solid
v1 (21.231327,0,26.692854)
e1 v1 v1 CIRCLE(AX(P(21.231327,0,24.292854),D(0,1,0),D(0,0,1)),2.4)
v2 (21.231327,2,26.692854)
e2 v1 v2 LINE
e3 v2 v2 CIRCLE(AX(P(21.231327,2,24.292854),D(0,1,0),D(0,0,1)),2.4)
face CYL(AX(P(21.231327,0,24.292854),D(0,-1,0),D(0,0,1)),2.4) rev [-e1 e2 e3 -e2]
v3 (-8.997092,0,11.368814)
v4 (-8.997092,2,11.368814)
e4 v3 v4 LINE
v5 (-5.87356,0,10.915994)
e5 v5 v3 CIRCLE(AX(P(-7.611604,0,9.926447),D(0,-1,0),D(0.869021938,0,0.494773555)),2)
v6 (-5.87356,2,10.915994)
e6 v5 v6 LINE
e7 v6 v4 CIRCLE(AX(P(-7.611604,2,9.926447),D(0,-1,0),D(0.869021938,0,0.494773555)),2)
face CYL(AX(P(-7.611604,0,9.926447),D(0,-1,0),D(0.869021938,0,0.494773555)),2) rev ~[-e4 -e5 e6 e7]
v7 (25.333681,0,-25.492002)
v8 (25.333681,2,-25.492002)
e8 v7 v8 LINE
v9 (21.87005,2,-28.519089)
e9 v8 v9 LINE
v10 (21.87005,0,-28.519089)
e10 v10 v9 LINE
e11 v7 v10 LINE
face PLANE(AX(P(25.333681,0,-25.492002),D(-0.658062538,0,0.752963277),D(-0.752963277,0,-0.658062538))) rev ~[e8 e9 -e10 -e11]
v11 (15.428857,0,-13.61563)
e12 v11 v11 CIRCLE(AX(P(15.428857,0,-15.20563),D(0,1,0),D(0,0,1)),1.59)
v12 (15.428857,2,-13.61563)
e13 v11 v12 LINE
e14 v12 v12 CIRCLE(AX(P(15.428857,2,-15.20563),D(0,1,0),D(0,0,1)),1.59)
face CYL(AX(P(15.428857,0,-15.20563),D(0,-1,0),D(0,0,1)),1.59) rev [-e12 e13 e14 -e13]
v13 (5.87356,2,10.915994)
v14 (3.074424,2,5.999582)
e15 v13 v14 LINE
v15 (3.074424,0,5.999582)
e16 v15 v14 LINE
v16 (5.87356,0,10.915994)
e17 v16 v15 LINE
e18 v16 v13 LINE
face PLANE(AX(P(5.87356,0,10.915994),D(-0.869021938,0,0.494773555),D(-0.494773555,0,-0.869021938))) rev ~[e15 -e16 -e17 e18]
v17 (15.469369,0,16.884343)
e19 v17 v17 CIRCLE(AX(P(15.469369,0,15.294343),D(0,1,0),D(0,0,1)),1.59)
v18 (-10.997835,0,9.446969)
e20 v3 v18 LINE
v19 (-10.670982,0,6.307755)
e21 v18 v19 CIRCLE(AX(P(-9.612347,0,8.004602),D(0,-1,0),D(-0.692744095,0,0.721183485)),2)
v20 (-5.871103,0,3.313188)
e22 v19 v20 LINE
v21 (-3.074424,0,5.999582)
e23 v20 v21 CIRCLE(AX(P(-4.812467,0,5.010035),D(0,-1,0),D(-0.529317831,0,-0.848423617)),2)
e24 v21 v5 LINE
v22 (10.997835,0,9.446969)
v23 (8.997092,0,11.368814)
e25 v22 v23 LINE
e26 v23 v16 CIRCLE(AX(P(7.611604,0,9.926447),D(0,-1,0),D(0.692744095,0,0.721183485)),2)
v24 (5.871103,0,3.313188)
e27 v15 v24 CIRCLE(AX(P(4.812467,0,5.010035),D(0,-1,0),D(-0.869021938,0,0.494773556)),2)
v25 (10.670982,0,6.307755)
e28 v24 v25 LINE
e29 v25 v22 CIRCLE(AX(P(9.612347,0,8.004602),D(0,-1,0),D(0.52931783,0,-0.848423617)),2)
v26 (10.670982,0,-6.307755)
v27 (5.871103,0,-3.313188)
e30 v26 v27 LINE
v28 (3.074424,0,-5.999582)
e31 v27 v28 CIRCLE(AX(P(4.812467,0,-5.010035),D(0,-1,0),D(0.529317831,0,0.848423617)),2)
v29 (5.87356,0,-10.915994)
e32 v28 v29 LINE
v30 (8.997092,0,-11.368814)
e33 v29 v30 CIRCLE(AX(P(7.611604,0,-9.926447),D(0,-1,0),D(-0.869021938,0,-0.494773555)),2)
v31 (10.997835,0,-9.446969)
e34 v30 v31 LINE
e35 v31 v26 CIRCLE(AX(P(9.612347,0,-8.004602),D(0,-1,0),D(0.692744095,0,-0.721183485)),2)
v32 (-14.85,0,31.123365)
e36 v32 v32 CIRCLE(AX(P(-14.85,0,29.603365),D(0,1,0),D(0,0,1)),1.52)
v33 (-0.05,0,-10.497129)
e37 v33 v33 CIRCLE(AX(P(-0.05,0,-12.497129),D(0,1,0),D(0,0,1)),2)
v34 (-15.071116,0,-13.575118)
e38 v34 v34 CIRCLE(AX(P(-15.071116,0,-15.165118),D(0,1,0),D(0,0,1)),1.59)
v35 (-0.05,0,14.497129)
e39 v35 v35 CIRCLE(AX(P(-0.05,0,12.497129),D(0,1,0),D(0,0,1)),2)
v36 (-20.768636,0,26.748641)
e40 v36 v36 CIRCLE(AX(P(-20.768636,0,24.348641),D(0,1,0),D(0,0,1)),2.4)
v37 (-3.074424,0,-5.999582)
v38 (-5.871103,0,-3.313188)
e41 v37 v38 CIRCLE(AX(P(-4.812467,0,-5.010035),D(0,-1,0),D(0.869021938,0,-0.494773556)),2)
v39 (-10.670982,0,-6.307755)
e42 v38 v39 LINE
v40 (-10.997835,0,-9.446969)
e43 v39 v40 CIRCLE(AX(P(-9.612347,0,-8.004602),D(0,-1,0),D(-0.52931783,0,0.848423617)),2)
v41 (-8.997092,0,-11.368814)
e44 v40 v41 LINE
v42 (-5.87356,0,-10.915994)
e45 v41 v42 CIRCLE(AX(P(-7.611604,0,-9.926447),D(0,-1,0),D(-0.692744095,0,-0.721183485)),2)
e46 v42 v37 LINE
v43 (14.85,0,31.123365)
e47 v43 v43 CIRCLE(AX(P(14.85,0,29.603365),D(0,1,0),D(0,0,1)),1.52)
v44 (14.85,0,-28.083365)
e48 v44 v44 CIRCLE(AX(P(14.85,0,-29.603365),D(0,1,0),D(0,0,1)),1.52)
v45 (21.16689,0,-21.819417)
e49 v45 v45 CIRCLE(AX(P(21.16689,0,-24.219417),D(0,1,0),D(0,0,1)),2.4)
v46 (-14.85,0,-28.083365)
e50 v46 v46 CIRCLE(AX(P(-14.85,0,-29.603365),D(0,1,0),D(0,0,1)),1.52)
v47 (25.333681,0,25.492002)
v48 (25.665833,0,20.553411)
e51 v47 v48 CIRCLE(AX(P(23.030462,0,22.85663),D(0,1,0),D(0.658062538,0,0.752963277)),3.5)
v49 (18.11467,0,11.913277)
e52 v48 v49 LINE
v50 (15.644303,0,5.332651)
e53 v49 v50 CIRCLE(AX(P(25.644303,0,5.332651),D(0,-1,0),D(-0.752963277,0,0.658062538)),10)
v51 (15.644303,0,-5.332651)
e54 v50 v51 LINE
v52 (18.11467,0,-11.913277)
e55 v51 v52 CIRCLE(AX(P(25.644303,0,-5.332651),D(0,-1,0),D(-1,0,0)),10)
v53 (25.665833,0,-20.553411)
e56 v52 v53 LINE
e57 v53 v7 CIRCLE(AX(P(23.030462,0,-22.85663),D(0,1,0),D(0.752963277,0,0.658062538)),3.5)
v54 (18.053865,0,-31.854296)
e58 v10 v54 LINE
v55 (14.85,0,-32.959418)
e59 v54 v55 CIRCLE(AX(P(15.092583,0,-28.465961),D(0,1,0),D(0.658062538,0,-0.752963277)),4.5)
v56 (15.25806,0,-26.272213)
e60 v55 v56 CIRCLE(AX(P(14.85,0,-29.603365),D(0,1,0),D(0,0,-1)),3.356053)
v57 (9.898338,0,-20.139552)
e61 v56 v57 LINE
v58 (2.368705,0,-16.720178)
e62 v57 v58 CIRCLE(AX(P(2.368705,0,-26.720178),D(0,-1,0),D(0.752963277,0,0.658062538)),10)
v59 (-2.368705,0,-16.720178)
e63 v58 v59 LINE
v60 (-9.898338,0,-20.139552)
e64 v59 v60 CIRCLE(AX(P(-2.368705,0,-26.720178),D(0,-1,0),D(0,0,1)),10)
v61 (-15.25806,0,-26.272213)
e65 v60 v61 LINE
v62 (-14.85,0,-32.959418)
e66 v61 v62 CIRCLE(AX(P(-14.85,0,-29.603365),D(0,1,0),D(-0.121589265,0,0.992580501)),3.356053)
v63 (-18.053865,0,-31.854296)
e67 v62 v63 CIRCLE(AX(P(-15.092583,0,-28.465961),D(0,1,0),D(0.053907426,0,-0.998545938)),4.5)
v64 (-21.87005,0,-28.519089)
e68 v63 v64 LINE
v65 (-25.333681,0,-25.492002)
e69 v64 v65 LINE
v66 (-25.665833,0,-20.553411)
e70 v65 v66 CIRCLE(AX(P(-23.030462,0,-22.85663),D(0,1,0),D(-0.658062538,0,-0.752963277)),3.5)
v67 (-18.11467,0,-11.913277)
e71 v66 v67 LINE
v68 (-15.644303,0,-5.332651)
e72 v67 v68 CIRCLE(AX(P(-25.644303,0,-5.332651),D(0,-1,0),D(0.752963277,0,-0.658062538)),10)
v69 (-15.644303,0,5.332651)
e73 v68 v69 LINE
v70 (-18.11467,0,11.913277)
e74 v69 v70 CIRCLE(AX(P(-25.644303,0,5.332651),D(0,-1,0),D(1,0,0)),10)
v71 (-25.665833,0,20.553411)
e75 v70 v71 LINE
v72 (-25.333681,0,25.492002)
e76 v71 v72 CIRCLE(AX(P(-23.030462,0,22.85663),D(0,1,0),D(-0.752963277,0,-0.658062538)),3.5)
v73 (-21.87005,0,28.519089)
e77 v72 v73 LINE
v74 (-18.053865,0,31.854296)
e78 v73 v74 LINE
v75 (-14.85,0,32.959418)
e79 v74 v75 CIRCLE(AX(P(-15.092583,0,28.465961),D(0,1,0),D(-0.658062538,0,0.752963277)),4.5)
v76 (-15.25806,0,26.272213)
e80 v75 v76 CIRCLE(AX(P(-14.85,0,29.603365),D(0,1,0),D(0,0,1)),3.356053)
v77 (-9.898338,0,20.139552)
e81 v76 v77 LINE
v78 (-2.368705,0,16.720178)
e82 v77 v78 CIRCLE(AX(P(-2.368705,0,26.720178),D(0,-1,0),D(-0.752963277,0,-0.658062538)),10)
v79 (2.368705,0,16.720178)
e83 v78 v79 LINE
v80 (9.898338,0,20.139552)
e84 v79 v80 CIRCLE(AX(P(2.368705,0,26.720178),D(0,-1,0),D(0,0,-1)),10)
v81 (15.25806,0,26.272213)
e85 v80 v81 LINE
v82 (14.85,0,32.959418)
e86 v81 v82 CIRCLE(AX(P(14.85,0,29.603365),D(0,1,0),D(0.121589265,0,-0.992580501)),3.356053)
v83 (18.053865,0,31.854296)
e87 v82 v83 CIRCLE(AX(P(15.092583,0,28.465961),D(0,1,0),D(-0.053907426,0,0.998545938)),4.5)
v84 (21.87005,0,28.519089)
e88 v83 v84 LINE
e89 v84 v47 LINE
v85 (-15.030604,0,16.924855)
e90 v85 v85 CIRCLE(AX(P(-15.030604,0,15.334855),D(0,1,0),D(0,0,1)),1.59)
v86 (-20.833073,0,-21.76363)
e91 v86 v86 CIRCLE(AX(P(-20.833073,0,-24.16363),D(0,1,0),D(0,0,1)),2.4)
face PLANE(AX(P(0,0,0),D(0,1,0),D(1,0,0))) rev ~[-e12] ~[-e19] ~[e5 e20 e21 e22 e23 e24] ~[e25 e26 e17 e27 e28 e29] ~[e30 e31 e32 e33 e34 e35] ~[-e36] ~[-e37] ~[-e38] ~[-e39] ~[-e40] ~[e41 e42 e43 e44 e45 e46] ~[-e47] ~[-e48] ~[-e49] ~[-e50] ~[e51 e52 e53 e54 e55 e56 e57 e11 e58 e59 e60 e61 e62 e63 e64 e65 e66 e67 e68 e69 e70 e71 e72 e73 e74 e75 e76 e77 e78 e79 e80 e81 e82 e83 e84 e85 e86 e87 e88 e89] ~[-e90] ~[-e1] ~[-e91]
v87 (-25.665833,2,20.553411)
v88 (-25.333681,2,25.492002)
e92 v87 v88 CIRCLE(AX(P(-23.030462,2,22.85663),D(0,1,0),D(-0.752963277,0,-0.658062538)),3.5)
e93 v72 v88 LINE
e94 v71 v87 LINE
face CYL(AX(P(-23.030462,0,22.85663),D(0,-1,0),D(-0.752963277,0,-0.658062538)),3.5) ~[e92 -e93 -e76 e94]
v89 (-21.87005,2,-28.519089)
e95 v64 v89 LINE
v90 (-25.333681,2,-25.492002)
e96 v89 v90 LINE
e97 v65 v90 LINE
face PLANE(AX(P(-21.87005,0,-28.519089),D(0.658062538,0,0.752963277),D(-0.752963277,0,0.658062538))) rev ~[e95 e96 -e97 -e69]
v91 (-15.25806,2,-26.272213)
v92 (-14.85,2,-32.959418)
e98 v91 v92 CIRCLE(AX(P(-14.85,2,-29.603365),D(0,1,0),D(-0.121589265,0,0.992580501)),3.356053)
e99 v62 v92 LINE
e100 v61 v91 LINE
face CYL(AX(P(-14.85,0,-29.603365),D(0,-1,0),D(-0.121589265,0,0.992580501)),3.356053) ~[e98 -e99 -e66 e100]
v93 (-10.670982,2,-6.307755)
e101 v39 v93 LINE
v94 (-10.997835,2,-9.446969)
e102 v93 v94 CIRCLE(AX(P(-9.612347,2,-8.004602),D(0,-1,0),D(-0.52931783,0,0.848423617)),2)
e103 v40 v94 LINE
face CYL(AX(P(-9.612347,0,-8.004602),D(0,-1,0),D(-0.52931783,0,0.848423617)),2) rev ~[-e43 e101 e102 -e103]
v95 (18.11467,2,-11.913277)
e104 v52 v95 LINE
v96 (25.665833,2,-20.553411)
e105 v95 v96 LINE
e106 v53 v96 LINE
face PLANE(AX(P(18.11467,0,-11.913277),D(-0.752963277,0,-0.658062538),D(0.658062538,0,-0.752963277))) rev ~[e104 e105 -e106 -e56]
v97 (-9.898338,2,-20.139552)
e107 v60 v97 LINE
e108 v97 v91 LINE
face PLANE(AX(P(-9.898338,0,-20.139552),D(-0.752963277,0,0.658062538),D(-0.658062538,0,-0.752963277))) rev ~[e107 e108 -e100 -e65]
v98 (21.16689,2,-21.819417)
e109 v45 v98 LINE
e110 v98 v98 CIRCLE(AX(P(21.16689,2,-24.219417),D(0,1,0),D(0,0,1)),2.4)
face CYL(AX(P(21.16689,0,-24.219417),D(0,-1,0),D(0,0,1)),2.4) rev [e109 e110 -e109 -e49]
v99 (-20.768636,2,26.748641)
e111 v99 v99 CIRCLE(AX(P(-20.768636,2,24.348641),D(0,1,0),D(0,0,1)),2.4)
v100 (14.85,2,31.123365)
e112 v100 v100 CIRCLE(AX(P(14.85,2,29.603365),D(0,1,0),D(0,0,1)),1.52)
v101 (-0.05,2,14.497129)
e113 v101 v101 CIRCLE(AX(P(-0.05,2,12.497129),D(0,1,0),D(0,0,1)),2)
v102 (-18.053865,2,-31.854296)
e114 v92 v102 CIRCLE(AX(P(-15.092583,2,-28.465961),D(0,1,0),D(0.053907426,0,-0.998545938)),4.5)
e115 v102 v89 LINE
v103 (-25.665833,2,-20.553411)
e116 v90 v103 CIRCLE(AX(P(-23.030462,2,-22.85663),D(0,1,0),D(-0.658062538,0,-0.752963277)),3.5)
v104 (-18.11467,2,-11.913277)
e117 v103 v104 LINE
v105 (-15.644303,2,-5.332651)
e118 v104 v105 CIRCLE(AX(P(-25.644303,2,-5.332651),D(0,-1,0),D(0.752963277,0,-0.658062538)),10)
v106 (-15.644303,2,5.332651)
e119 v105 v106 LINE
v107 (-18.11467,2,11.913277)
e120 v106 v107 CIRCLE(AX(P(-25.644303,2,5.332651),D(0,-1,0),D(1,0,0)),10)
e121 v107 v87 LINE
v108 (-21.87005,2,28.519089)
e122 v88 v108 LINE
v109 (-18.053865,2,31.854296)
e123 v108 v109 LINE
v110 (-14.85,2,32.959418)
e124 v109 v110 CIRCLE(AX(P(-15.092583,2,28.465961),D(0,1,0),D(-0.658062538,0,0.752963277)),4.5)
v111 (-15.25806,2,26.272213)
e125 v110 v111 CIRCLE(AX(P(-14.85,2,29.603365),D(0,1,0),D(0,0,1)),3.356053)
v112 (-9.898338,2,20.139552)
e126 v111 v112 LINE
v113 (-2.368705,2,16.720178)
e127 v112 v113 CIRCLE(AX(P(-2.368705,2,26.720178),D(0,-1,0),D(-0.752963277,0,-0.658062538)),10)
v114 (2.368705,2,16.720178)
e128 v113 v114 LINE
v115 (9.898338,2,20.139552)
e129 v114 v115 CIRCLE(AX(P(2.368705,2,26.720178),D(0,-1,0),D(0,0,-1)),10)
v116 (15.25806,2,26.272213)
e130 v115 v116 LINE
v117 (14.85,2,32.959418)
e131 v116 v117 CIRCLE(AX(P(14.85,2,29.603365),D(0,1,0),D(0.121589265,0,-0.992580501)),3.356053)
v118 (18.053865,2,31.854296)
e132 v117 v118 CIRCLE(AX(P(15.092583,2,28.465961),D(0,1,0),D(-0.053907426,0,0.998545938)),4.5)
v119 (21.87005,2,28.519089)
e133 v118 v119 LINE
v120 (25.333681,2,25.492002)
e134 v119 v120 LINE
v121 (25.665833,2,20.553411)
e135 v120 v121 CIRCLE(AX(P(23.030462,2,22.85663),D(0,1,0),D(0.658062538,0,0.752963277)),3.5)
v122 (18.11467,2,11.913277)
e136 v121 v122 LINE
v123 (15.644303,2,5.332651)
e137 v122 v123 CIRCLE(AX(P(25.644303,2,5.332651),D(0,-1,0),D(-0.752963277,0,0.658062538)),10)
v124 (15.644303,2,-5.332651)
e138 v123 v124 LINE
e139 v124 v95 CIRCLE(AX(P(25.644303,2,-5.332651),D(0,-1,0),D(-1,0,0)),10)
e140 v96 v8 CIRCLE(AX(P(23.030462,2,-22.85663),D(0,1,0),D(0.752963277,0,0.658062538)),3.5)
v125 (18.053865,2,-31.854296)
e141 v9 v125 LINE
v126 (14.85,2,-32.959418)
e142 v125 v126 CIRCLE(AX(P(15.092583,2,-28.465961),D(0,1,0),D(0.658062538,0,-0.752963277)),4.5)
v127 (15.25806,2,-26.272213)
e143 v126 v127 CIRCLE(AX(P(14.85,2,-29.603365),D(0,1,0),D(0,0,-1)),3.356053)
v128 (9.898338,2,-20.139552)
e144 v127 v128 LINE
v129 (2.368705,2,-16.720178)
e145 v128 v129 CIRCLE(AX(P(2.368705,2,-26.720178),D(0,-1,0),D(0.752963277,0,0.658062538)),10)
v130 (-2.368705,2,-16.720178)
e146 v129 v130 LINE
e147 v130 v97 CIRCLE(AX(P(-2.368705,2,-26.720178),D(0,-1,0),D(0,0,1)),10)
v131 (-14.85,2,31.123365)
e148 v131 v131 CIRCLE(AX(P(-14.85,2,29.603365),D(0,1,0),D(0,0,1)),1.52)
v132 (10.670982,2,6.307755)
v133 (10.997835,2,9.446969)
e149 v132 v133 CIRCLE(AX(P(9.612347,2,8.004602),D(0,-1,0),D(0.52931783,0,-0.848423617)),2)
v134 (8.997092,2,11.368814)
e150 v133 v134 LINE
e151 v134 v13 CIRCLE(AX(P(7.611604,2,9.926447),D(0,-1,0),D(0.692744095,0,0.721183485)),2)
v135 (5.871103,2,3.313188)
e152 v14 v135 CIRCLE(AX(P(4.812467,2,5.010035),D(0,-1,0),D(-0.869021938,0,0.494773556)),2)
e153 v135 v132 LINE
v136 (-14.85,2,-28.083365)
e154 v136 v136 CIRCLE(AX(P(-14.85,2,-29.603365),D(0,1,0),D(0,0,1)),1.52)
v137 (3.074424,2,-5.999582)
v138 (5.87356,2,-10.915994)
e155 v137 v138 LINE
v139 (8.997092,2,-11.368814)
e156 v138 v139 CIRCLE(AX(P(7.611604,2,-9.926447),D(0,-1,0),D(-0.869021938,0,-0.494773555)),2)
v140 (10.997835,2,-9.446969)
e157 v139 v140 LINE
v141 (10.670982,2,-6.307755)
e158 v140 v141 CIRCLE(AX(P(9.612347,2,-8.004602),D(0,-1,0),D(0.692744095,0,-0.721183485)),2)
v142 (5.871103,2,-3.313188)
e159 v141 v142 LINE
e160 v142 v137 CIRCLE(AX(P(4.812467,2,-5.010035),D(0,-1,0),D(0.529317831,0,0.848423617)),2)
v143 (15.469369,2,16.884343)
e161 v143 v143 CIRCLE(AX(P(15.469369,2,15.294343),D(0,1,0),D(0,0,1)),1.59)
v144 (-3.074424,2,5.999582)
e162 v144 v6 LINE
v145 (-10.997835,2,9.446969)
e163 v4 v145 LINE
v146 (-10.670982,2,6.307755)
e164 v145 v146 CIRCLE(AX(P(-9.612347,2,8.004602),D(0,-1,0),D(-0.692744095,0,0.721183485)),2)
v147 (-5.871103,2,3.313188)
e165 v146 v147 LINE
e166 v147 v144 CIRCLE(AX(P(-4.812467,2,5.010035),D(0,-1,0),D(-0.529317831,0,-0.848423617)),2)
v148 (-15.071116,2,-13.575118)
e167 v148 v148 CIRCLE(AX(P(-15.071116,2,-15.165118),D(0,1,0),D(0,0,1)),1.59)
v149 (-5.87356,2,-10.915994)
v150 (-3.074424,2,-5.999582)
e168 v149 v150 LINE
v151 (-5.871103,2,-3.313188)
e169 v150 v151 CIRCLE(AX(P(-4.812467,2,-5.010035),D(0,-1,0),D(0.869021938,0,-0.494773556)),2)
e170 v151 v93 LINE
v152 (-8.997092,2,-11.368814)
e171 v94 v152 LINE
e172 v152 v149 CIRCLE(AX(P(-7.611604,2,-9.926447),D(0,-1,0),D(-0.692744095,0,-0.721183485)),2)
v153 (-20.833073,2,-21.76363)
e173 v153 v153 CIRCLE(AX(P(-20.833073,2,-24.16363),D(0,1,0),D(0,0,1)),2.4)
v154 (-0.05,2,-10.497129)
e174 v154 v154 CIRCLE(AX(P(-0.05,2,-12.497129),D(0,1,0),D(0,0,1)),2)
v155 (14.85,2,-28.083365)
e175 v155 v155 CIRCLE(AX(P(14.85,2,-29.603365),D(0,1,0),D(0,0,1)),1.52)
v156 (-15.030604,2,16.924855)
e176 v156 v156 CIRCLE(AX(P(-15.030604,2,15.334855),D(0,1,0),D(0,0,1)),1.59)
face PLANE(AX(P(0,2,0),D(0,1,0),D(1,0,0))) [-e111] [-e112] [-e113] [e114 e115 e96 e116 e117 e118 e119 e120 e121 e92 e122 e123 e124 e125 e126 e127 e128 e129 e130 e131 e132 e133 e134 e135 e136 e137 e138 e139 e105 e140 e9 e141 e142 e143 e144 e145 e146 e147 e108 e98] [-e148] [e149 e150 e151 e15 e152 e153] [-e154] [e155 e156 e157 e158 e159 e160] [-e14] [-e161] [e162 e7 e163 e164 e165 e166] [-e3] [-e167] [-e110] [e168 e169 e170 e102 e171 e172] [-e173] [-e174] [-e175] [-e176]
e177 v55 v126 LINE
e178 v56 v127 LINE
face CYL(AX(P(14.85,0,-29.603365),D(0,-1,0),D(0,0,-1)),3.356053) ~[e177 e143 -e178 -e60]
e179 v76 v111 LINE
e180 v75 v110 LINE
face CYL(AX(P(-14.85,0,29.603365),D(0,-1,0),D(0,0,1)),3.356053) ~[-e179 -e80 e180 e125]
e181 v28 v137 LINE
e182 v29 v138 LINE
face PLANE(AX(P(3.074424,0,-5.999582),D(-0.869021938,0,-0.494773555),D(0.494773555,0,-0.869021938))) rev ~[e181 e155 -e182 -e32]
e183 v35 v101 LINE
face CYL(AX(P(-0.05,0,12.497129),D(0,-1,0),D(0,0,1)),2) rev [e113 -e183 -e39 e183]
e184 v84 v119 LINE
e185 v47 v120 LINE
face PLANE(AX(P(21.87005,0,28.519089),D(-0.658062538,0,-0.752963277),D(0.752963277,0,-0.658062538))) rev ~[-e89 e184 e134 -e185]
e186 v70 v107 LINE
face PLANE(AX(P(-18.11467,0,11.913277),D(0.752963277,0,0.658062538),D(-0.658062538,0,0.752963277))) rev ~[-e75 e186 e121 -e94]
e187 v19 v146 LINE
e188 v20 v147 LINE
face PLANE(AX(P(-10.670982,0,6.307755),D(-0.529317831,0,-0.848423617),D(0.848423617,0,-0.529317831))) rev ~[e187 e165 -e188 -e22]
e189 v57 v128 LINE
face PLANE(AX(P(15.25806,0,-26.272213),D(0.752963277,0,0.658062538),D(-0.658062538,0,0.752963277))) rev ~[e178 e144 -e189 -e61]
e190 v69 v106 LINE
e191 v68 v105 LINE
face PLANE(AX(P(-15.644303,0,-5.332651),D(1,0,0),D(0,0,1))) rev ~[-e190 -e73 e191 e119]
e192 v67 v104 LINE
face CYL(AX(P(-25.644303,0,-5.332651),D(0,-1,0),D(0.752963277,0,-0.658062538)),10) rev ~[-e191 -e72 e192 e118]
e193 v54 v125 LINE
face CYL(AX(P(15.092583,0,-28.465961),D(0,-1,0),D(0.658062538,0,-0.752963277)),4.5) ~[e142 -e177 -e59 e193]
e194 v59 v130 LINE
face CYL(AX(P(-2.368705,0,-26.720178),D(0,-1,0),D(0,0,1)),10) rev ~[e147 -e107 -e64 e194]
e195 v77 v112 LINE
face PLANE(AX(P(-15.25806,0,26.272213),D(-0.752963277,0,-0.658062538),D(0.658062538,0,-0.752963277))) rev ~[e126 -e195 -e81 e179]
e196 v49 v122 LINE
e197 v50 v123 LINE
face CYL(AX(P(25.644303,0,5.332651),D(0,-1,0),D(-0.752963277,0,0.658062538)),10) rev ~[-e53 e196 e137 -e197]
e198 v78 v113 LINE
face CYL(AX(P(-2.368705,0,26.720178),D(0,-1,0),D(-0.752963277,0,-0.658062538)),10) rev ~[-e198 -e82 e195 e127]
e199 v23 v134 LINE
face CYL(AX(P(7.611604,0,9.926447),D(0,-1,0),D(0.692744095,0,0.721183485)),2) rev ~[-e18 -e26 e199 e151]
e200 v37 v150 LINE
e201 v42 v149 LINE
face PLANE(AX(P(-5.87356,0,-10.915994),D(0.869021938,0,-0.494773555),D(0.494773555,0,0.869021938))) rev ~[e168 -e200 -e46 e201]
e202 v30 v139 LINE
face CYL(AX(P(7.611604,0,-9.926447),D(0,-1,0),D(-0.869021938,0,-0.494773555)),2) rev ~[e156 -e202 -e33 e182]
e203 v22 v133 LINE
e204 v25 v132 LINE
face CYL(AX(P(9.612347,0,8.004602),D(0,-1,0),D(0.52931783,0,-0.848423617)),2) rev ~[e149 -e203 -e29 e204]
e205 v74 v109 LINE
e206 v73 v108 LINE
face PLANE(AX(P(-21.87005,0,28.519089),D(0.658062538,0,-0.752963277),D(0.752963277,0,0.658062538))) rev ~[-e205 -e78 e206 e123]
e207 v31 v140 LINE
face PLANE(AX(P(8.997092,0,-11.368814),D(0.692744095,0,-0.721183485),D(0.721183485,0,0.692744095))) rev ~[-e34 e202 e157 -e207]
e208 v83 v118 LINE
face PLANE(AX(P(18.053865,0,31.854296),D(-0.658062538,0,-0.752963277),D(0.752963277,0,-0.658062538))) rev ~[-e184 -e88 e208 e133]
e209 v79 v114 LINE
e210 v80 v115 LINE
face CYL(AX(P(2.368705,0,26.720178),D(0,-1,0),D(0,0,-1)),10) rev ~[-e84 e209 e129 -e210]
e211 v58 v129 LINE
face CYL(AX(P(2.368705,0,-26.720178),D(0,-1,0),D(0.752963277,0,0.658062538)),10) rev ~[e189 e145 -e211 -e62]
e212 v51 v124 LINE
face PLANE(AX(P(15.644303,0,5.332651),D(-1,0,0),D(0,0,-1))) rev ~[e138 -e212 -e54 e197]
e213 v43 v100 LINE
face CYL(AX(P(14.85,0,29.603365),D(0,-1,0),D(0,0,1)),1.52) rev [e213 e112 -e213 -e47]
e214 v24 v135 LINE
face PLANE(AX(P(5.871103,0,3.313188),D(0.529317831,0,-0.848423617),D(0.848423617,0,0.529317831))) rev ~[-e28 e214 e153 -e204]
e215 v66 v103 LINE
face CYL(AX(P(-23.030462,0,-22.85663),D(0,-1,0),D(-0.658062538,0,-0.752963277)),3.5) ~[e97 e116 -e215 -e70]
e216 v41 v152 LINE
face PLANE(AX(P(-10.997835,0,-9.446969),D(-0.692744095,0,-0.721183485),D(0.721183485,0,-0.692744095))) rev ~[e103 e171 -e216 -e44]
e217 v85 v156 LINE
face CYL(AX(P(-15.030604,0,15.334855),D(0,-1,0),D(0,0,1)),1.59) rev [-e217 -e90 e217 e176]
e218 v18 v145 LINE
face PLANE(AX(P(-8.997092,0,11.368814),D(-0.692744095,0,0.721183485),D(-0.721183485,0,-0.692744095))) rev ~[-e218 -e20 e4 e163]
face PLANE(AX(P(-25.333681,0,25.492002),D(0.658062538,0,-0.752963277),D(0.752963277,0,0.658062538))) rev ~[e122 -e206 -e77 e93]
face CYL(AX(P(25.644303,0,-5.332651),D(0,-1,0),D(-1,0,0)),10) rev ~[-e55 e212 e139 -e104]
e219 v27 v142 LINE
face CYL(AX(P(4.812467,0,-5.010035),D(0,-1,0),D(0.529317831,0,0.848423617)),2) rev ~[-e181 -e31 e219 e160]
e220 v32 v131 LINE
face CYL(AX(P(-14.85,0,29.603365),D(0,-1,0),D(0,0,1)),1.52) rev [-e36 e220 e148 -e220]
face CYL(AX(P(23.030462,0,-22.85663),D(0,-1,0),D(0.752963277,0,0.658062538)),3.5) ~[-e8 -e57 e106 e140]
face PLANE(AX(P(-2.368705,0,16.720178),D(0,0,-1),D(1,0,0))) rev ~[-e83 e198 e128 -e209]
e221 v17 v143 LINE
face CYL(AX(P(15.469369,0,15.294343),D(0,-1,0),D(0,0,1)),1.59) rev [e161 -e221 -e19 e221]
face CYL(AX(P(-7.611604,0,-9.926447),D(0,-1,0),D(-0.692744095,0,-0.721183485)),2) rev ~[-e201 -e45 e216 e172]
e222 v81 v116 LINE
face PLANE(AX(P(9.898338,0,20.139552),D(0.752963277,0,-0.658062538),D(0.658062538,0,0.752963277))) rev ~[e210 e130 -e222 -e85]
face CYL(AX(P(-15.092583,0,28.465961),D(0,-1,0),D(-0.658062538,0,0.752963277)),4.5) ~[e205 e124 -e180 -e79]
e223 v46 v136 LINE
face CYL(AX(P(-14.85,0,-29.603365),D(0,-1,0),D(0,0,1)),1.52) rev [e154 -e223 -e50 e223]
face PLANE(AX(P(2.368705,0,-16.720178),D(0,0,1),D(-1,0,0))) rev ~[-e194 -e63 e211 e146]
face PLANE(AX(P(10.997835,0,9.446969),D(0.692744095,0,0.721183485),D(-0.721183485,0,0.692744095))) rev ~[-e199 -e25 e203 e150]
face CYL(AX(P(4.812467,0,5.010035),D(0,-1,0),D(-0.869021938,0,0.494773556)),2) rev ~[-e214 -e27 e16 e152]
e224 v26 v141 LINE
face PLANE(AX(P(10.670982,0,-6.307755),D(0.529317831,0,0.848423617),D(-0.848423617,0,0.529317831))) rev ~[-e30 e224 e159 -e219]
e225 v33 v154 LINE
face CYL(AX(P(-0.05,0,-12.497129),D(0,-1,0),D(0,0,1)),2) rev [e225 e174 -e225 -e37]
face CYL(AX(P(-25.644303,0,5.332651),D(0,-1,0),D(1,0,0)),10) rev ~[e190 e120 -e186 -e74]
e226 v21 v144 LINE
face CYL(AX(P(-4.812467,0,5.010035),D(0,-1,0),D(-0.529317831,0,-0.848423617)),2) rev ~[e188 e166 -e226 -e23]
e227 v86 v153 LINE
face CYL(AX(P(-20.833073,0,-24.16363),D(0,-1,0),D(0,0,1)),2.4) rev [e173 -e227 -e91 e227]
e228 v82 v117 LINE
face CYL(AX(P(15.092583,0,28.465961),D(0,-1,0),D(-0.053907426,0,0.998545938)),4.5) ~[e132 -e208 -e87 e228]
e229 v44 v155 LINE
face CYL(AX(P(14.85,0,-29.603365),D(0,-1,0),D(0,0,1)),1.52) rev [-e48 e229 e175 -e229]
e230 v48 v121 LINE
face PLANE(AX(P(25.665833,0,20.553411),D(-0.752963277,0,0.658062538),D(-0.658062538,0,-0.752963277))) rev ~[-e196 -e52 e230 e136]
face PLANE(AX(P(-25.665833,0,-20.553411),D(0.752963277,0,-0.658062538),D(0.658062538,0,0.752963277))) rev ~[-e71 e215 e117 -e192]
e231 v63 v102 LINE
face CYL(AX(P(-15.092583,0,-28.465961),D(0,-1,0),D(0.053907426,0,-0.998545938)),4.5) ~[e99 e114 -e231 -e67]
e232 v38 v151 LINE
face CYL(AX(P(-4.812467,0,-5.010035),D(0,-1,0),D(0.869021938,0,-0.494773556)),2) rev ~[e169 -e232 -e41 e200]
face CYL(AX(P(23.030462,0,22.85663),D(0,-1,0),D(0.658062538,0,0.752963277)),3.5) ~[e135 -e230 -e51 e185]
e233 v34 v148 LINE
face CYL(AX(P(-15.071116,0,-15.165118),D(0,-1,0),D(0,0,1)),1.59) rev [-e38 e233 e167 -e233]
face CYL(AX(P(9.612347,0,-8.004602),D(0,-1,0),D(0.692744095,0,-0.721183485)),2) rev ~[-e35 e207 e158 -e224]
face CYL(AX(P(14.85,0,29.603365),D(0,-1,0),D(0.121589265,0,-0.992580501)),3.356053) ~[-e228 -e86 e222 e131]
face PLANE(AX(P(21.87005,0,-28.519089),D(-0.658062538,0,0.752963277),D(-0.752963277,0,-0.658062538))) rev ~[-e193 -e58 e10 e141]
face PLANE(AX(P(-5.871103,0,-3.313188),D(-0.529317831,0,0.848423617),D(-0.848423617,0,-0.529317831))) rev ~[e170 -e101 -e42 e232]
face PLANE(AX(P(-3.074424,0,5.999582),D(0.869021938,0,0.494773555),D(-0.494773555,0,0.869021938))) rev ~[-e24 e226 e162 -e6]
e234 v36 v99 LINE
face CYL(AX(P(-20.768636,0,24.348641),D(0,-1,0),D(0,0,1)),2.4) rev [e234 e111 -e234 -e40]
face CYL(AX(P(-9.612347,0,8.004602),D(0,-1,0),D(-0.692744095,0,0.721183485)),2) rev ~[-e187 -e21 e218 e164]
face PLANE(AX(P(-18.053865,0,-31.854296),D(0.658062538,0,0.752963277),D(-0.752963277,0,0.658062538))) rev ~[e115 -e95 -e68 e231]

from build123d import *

# Parameters (mm, degrees)
CROQUIS2_R              = 1.52
CROQUIS2_R_2            = 2.4
CROQUIS2_R_3            = 1.59
CROQUIS2_R_4            = 2
SALIENTE_EXTRUIR1_DEPTH = 2


with BuildPart() as part:
    # Croquis2 → Saliente-Extruir1 (new body)
    with BuildSketch(Plane(origin=(0, 0, 0), x_dir=(1, 0, 0), z_dir=(0, 1, 0))):
        with BuildLine():
            ThreePointArc((-15.6443026, -5.332651407), (-16.282242792, -8.847169319), (-18.114669831, -11.913276785))
            Line((-18.114669831, -11.913276785), (-25.665833323, -20.55341124))
            ThreePointArc((-25.665833323, -20.55341124), (-26.522572581, -23.091497469), (-25.333680736, -25.492001591))
            Line((-25.333680736, -25.492001591), (-21.870049663, -28.519089265))
            Line((-21.870049663, -28.519089265), (-18.053864835, -31.854296107))
            ThreePointArc((-18.053864835, -31.854296107), (-16.559946136, -32.720000224), (-14.85, -32.95941808))
            ThreePointArc((-14.85, -32.95941808), (-11.500177955, -29.398955686), (-15.258060002, -26.272212538))
            Line((-15.258060002, -26.272212538), (-9.898337732, -20.139552173))
            ThreePointArc((-9.898337732, -20.139552173), (-6.503541491, -17.615062127), (-2.368704963, -16.720177551))
            Line((-2.368704963, -16.720177551), (2.368704963, -16.720177551))
            ThreePointArc((2.368704963, -16.720177551), (6.503541491, -17.615062127), (9.898337732, -20.139552173))
            Line((9.898337732, -20.139552173), (15.258060002, -26.272212538))
            ThreePointArc((15.258060002, -26.272212538), (11.500177955, -29.398955686), (14.85, -32.95941808))
            ThreePointArc((14.85, -32.95941808), (16.559946136, -32.720000224), (18.053864835, -31.854296107))
            Line((18.053864835, -31.854296107), (21.870049663, -28.519089265))
            Line((21.870049663, -28.519089265), (25.333680736, -25.492001591))
            ThreePointArc((25.333680736, -25.492001591), (26.522572581, -23.091497469), (25.665833323, -20.55341124))
            Line((25.665833323, -20.55341124), (18.114669831, -11.913276785))
            ThreePointArc((18.114669831, -11.913276785), (16.282242792, -8.847169319), (15.6443026, -5.332651407))
            Line((15.6443026, -5.332651407), (15.6443026, 5.332651407))
            ThreePointArc((15.6443026, 5.332651407), (16.282242792, 8.847169319), (18.114669831, 11.913276785))
            Line((18.114669831, 11.913276785), (25.665833323, 20.55341124))
            ThreePointArc((25.665833323, 20.55341124), (26.522572581, 23.091497469), (25.333680736, 25.492001591))
            Line((25.333680736, 25.492001591), (21.870049663, 28.519089265))
            Line((21.870049663, 28.519089265), (18.053864835, 31.854296107))
            ThreePointArc((18.053864835, 31.854296107), (16.559946136, 32.720000224), (14.85, 32.95941808))
            ThreePointArc((14.85, 32.95941808), (11.500177955, 29.398955686), (15.258060002, 26.272212538))
            Line((15.258060002, 26.272212538), (9.898337732, 20.139552173))
            ThreePointArc((9.898337732, 20.139552173), (6.503541491, 17.615062127), (2.368704963, 16.720177551))
            Line((2.368704963, 16.720177551), (-2.368704963, 16.720177551))
            ThreePointArc((-2.368704963, 16.720177551), (-6.503541491, 17.615062127), (-9.898337732, 20.139552173))
            Line((-9.898337732, 20.139552173), (-15.258060002, 26.272212538))
            ThreePointArc((-15.258060002, 26.272212538), (-11.500177955, 29.398955686), (-14.85, 32.95941808))
            ThreePointArc((-14.85, 32.95941808), (-16.559946136, 32.720000224), (-18.053864835, 31.854296107))
            Line((-18.053864835, 31.854296107), (-21.870049663, 28.519089265))
            Line((-21.870049663, 28.519089265), (-25.333680736, 25.492001591))
            ThreePointArc((-25.333680736, 25.492001591), (-26.522572581, 23.091497469), (-25.665833323, 20.55341124))
            Line((-25.665833323, 20.55341124), (-18.114669831, 11.913276785))
            ThreePointArc((-18.114669831, 11.913276785), (-16.282242792, 8.847169319), (-15.6443026, 5.332651407))
            Line((-15.6443026, 5.332651407), (-15.6443026, -5.332651407))
        make_face()
        with Locations(Location((-14.85, -29.603365193, 0), (0, 0, 270))):
            Circle(CROQUIS2_R, mode=Mode.SUBTRACT)
        with Locations(Location((-20.768636021, -24.348641057, 0), (0, 0, 270))):
            Circle(CROQUIS2_R_2, mode=Mode.SUBTRACT)
        with Locations(Location((-15.030603638, -15.334854811, 0), (0, 0, 270))):
            Circle(CROQUIS2_R_3, mode=Mode.SUBTRACT)
        with Locations(Location((-0.05, -12.497128708, 0), (0, 0, 270))):
            Circle(CROQUIS2_R_4, mode=Mode.SUBTRACT)
        with BuildLine():
            Line((-3.074423593, -5.999581964), (-5.873559772, -10.915994174))
            ThreePointArc((-5.873559772, -10.915994174), (-7.324662306, -11.905756202), (-8.997091839, -11.368814033))
            Line((-8.997091839, -11.368814033), (-10.997834751, -9.446969084))
            ThreePointArc((-10.997834751, -9.446969084), (-11.601593103, -7.79748332), (-10.670982222, -6.30775488))
            Line((-10.670982222, -6.30775488), (-5.87110313, -3.313187619))
            ThreePointArc((-5.87110313, -3.313187619), (-3.426979279, -3.567667883), (-3.074423593, -5.999581964))
        make_face(mode=Mode.SUBTRACT)
        with Locations(Location((14.85, -29.603365193, 0), (0, 0, 270))):
            Circle(CROQUIS2_R, mode=Mode.SUBTRACT)
        with Locations(Location((21.231326929, -24.292854014, 0), (0, 0, 270))):
            Circle(CROQUIS2_R_2, mode=Mode.SUBTRACT)
        with BuildLine():
            Line((10.997834751, -9.446969084), (8.997091839, -11.368814033))
            ThreePointArc((8.997091839, -11.368814033), (7.324662306, -11.905756202), (5.873559772, -10.915994174))
            Line((5.873559772, -10.915994174), (3.074423593, -5.999581964))
            ThreePointArc((3.074423593, -5.999581964), (3.426979279, -3.567667883), (5.87110313, -3.313187619))
            Line((5.87110313, -3.313187619), (10.670982222, -6.30775488))
            ThreePointArc((10.670982222, -6.30775488), (11.601593103, -7.79748332), (10.997834751, -9.446969084))
        make_face(mode=Mode.SUBTRACT)
        with Locations(Location((15.469369457, -15.294342791, 0), (0, 0, 270))):
            Circle(CROQUIS2_R_3, mode=Mode.SUBTRACT)
        with Locations(Location((-15.071115657, 15.165118284, 0), (0, 0, 270))):
            Circle(CROQUIS2_R_3, mode=Mode.SUBTRACT)
        with BuildLine():
            Line((-10.997834751, 9.446969084), (-8.997091839, 11.368814033))
            ThreePointArc((-8.997091839, 11.368814033), (-7.324662306, 11.905756202), (-5.873559772, 10.915994174))
            Line((-5.873559772, 10.915994174), (-3.074423593, 5.999581964))
            ThreePointArc((-3.074423593, 5.999581964), (-3.426979279, 3.567667883), (-5.87110313, 3.313187619))
            Line((-5.87110313, 3.313187619), (-10.670982222, 6.30775488))
            ThreePointArc((-10.670982222, 6.30775488), (-11.601593103, 7.79748332), (-10.997834751, 9.446969084))
        make_face(mode=Mode.SUBTRACT)
        with Locations(Location((-0.05, 12.497128708, 0), (0, 0, 270))):
            Circle(CROQUIS2_R_4, mode=Mode.SUBTRACT)
        with Locations(Location((-20.833073129, 24.163629506, 0), (0, 0, 270))):
            Circle(CROQUIS2_R_2, mode=Mode.SUBTRACT)
        with Locations(Location((-14.85, 29.603365193, 0), (0, 0, 270))):
            Circle(CROQUIS2_R, mode=Mode.SUBTRACT)
        with BuildLine():
            Line((3.074423593, 5.999581964), (5.873559772, 10.915994174))
            ThreePointArc((5.873559772, 10.915994174), (7.324662306, 11.905756202), (8.997091839, 11.368814033))
            Line((8.997091839, 11.368814033), (10.997834751, 9.446969084))
            ThreePointArc((10.997834751, 9.446969084), (11.601593103, 7.79748332), (10.670982222, 6.30775488))
            Line((10.670982222, 6.30775488), (5.87110313, 3.313187619))
            ThreePointArc((5.87110313, 3.313187619), (3.426979279, 3.567667883), (3.074423593, 5.999581964))
        make_face(mode=Mode.SUBTRACT)
        with Locations(Location((15.428857437, 15.205630304, 0), (0, 0, 270))):
            Circle(CROQUIS2_R_3, mode=Mode.SUBTRACT)
        with Locations(Location((21.166889821, 24.21941655, 0), (0, 0, 270))):
            Circle(CROQUIS2_R_2, mode=Mode.SUBTRACT)
        with Locations(Location((14.85, 29.603365193, 0), (0, 0, 270))):
            Circle(CROQUIS2_R, mode=Mode.SUBTRACT)
    extrude(amount=SALIENTE_EXTRUIR1_DEPTH)


solid = part.part
